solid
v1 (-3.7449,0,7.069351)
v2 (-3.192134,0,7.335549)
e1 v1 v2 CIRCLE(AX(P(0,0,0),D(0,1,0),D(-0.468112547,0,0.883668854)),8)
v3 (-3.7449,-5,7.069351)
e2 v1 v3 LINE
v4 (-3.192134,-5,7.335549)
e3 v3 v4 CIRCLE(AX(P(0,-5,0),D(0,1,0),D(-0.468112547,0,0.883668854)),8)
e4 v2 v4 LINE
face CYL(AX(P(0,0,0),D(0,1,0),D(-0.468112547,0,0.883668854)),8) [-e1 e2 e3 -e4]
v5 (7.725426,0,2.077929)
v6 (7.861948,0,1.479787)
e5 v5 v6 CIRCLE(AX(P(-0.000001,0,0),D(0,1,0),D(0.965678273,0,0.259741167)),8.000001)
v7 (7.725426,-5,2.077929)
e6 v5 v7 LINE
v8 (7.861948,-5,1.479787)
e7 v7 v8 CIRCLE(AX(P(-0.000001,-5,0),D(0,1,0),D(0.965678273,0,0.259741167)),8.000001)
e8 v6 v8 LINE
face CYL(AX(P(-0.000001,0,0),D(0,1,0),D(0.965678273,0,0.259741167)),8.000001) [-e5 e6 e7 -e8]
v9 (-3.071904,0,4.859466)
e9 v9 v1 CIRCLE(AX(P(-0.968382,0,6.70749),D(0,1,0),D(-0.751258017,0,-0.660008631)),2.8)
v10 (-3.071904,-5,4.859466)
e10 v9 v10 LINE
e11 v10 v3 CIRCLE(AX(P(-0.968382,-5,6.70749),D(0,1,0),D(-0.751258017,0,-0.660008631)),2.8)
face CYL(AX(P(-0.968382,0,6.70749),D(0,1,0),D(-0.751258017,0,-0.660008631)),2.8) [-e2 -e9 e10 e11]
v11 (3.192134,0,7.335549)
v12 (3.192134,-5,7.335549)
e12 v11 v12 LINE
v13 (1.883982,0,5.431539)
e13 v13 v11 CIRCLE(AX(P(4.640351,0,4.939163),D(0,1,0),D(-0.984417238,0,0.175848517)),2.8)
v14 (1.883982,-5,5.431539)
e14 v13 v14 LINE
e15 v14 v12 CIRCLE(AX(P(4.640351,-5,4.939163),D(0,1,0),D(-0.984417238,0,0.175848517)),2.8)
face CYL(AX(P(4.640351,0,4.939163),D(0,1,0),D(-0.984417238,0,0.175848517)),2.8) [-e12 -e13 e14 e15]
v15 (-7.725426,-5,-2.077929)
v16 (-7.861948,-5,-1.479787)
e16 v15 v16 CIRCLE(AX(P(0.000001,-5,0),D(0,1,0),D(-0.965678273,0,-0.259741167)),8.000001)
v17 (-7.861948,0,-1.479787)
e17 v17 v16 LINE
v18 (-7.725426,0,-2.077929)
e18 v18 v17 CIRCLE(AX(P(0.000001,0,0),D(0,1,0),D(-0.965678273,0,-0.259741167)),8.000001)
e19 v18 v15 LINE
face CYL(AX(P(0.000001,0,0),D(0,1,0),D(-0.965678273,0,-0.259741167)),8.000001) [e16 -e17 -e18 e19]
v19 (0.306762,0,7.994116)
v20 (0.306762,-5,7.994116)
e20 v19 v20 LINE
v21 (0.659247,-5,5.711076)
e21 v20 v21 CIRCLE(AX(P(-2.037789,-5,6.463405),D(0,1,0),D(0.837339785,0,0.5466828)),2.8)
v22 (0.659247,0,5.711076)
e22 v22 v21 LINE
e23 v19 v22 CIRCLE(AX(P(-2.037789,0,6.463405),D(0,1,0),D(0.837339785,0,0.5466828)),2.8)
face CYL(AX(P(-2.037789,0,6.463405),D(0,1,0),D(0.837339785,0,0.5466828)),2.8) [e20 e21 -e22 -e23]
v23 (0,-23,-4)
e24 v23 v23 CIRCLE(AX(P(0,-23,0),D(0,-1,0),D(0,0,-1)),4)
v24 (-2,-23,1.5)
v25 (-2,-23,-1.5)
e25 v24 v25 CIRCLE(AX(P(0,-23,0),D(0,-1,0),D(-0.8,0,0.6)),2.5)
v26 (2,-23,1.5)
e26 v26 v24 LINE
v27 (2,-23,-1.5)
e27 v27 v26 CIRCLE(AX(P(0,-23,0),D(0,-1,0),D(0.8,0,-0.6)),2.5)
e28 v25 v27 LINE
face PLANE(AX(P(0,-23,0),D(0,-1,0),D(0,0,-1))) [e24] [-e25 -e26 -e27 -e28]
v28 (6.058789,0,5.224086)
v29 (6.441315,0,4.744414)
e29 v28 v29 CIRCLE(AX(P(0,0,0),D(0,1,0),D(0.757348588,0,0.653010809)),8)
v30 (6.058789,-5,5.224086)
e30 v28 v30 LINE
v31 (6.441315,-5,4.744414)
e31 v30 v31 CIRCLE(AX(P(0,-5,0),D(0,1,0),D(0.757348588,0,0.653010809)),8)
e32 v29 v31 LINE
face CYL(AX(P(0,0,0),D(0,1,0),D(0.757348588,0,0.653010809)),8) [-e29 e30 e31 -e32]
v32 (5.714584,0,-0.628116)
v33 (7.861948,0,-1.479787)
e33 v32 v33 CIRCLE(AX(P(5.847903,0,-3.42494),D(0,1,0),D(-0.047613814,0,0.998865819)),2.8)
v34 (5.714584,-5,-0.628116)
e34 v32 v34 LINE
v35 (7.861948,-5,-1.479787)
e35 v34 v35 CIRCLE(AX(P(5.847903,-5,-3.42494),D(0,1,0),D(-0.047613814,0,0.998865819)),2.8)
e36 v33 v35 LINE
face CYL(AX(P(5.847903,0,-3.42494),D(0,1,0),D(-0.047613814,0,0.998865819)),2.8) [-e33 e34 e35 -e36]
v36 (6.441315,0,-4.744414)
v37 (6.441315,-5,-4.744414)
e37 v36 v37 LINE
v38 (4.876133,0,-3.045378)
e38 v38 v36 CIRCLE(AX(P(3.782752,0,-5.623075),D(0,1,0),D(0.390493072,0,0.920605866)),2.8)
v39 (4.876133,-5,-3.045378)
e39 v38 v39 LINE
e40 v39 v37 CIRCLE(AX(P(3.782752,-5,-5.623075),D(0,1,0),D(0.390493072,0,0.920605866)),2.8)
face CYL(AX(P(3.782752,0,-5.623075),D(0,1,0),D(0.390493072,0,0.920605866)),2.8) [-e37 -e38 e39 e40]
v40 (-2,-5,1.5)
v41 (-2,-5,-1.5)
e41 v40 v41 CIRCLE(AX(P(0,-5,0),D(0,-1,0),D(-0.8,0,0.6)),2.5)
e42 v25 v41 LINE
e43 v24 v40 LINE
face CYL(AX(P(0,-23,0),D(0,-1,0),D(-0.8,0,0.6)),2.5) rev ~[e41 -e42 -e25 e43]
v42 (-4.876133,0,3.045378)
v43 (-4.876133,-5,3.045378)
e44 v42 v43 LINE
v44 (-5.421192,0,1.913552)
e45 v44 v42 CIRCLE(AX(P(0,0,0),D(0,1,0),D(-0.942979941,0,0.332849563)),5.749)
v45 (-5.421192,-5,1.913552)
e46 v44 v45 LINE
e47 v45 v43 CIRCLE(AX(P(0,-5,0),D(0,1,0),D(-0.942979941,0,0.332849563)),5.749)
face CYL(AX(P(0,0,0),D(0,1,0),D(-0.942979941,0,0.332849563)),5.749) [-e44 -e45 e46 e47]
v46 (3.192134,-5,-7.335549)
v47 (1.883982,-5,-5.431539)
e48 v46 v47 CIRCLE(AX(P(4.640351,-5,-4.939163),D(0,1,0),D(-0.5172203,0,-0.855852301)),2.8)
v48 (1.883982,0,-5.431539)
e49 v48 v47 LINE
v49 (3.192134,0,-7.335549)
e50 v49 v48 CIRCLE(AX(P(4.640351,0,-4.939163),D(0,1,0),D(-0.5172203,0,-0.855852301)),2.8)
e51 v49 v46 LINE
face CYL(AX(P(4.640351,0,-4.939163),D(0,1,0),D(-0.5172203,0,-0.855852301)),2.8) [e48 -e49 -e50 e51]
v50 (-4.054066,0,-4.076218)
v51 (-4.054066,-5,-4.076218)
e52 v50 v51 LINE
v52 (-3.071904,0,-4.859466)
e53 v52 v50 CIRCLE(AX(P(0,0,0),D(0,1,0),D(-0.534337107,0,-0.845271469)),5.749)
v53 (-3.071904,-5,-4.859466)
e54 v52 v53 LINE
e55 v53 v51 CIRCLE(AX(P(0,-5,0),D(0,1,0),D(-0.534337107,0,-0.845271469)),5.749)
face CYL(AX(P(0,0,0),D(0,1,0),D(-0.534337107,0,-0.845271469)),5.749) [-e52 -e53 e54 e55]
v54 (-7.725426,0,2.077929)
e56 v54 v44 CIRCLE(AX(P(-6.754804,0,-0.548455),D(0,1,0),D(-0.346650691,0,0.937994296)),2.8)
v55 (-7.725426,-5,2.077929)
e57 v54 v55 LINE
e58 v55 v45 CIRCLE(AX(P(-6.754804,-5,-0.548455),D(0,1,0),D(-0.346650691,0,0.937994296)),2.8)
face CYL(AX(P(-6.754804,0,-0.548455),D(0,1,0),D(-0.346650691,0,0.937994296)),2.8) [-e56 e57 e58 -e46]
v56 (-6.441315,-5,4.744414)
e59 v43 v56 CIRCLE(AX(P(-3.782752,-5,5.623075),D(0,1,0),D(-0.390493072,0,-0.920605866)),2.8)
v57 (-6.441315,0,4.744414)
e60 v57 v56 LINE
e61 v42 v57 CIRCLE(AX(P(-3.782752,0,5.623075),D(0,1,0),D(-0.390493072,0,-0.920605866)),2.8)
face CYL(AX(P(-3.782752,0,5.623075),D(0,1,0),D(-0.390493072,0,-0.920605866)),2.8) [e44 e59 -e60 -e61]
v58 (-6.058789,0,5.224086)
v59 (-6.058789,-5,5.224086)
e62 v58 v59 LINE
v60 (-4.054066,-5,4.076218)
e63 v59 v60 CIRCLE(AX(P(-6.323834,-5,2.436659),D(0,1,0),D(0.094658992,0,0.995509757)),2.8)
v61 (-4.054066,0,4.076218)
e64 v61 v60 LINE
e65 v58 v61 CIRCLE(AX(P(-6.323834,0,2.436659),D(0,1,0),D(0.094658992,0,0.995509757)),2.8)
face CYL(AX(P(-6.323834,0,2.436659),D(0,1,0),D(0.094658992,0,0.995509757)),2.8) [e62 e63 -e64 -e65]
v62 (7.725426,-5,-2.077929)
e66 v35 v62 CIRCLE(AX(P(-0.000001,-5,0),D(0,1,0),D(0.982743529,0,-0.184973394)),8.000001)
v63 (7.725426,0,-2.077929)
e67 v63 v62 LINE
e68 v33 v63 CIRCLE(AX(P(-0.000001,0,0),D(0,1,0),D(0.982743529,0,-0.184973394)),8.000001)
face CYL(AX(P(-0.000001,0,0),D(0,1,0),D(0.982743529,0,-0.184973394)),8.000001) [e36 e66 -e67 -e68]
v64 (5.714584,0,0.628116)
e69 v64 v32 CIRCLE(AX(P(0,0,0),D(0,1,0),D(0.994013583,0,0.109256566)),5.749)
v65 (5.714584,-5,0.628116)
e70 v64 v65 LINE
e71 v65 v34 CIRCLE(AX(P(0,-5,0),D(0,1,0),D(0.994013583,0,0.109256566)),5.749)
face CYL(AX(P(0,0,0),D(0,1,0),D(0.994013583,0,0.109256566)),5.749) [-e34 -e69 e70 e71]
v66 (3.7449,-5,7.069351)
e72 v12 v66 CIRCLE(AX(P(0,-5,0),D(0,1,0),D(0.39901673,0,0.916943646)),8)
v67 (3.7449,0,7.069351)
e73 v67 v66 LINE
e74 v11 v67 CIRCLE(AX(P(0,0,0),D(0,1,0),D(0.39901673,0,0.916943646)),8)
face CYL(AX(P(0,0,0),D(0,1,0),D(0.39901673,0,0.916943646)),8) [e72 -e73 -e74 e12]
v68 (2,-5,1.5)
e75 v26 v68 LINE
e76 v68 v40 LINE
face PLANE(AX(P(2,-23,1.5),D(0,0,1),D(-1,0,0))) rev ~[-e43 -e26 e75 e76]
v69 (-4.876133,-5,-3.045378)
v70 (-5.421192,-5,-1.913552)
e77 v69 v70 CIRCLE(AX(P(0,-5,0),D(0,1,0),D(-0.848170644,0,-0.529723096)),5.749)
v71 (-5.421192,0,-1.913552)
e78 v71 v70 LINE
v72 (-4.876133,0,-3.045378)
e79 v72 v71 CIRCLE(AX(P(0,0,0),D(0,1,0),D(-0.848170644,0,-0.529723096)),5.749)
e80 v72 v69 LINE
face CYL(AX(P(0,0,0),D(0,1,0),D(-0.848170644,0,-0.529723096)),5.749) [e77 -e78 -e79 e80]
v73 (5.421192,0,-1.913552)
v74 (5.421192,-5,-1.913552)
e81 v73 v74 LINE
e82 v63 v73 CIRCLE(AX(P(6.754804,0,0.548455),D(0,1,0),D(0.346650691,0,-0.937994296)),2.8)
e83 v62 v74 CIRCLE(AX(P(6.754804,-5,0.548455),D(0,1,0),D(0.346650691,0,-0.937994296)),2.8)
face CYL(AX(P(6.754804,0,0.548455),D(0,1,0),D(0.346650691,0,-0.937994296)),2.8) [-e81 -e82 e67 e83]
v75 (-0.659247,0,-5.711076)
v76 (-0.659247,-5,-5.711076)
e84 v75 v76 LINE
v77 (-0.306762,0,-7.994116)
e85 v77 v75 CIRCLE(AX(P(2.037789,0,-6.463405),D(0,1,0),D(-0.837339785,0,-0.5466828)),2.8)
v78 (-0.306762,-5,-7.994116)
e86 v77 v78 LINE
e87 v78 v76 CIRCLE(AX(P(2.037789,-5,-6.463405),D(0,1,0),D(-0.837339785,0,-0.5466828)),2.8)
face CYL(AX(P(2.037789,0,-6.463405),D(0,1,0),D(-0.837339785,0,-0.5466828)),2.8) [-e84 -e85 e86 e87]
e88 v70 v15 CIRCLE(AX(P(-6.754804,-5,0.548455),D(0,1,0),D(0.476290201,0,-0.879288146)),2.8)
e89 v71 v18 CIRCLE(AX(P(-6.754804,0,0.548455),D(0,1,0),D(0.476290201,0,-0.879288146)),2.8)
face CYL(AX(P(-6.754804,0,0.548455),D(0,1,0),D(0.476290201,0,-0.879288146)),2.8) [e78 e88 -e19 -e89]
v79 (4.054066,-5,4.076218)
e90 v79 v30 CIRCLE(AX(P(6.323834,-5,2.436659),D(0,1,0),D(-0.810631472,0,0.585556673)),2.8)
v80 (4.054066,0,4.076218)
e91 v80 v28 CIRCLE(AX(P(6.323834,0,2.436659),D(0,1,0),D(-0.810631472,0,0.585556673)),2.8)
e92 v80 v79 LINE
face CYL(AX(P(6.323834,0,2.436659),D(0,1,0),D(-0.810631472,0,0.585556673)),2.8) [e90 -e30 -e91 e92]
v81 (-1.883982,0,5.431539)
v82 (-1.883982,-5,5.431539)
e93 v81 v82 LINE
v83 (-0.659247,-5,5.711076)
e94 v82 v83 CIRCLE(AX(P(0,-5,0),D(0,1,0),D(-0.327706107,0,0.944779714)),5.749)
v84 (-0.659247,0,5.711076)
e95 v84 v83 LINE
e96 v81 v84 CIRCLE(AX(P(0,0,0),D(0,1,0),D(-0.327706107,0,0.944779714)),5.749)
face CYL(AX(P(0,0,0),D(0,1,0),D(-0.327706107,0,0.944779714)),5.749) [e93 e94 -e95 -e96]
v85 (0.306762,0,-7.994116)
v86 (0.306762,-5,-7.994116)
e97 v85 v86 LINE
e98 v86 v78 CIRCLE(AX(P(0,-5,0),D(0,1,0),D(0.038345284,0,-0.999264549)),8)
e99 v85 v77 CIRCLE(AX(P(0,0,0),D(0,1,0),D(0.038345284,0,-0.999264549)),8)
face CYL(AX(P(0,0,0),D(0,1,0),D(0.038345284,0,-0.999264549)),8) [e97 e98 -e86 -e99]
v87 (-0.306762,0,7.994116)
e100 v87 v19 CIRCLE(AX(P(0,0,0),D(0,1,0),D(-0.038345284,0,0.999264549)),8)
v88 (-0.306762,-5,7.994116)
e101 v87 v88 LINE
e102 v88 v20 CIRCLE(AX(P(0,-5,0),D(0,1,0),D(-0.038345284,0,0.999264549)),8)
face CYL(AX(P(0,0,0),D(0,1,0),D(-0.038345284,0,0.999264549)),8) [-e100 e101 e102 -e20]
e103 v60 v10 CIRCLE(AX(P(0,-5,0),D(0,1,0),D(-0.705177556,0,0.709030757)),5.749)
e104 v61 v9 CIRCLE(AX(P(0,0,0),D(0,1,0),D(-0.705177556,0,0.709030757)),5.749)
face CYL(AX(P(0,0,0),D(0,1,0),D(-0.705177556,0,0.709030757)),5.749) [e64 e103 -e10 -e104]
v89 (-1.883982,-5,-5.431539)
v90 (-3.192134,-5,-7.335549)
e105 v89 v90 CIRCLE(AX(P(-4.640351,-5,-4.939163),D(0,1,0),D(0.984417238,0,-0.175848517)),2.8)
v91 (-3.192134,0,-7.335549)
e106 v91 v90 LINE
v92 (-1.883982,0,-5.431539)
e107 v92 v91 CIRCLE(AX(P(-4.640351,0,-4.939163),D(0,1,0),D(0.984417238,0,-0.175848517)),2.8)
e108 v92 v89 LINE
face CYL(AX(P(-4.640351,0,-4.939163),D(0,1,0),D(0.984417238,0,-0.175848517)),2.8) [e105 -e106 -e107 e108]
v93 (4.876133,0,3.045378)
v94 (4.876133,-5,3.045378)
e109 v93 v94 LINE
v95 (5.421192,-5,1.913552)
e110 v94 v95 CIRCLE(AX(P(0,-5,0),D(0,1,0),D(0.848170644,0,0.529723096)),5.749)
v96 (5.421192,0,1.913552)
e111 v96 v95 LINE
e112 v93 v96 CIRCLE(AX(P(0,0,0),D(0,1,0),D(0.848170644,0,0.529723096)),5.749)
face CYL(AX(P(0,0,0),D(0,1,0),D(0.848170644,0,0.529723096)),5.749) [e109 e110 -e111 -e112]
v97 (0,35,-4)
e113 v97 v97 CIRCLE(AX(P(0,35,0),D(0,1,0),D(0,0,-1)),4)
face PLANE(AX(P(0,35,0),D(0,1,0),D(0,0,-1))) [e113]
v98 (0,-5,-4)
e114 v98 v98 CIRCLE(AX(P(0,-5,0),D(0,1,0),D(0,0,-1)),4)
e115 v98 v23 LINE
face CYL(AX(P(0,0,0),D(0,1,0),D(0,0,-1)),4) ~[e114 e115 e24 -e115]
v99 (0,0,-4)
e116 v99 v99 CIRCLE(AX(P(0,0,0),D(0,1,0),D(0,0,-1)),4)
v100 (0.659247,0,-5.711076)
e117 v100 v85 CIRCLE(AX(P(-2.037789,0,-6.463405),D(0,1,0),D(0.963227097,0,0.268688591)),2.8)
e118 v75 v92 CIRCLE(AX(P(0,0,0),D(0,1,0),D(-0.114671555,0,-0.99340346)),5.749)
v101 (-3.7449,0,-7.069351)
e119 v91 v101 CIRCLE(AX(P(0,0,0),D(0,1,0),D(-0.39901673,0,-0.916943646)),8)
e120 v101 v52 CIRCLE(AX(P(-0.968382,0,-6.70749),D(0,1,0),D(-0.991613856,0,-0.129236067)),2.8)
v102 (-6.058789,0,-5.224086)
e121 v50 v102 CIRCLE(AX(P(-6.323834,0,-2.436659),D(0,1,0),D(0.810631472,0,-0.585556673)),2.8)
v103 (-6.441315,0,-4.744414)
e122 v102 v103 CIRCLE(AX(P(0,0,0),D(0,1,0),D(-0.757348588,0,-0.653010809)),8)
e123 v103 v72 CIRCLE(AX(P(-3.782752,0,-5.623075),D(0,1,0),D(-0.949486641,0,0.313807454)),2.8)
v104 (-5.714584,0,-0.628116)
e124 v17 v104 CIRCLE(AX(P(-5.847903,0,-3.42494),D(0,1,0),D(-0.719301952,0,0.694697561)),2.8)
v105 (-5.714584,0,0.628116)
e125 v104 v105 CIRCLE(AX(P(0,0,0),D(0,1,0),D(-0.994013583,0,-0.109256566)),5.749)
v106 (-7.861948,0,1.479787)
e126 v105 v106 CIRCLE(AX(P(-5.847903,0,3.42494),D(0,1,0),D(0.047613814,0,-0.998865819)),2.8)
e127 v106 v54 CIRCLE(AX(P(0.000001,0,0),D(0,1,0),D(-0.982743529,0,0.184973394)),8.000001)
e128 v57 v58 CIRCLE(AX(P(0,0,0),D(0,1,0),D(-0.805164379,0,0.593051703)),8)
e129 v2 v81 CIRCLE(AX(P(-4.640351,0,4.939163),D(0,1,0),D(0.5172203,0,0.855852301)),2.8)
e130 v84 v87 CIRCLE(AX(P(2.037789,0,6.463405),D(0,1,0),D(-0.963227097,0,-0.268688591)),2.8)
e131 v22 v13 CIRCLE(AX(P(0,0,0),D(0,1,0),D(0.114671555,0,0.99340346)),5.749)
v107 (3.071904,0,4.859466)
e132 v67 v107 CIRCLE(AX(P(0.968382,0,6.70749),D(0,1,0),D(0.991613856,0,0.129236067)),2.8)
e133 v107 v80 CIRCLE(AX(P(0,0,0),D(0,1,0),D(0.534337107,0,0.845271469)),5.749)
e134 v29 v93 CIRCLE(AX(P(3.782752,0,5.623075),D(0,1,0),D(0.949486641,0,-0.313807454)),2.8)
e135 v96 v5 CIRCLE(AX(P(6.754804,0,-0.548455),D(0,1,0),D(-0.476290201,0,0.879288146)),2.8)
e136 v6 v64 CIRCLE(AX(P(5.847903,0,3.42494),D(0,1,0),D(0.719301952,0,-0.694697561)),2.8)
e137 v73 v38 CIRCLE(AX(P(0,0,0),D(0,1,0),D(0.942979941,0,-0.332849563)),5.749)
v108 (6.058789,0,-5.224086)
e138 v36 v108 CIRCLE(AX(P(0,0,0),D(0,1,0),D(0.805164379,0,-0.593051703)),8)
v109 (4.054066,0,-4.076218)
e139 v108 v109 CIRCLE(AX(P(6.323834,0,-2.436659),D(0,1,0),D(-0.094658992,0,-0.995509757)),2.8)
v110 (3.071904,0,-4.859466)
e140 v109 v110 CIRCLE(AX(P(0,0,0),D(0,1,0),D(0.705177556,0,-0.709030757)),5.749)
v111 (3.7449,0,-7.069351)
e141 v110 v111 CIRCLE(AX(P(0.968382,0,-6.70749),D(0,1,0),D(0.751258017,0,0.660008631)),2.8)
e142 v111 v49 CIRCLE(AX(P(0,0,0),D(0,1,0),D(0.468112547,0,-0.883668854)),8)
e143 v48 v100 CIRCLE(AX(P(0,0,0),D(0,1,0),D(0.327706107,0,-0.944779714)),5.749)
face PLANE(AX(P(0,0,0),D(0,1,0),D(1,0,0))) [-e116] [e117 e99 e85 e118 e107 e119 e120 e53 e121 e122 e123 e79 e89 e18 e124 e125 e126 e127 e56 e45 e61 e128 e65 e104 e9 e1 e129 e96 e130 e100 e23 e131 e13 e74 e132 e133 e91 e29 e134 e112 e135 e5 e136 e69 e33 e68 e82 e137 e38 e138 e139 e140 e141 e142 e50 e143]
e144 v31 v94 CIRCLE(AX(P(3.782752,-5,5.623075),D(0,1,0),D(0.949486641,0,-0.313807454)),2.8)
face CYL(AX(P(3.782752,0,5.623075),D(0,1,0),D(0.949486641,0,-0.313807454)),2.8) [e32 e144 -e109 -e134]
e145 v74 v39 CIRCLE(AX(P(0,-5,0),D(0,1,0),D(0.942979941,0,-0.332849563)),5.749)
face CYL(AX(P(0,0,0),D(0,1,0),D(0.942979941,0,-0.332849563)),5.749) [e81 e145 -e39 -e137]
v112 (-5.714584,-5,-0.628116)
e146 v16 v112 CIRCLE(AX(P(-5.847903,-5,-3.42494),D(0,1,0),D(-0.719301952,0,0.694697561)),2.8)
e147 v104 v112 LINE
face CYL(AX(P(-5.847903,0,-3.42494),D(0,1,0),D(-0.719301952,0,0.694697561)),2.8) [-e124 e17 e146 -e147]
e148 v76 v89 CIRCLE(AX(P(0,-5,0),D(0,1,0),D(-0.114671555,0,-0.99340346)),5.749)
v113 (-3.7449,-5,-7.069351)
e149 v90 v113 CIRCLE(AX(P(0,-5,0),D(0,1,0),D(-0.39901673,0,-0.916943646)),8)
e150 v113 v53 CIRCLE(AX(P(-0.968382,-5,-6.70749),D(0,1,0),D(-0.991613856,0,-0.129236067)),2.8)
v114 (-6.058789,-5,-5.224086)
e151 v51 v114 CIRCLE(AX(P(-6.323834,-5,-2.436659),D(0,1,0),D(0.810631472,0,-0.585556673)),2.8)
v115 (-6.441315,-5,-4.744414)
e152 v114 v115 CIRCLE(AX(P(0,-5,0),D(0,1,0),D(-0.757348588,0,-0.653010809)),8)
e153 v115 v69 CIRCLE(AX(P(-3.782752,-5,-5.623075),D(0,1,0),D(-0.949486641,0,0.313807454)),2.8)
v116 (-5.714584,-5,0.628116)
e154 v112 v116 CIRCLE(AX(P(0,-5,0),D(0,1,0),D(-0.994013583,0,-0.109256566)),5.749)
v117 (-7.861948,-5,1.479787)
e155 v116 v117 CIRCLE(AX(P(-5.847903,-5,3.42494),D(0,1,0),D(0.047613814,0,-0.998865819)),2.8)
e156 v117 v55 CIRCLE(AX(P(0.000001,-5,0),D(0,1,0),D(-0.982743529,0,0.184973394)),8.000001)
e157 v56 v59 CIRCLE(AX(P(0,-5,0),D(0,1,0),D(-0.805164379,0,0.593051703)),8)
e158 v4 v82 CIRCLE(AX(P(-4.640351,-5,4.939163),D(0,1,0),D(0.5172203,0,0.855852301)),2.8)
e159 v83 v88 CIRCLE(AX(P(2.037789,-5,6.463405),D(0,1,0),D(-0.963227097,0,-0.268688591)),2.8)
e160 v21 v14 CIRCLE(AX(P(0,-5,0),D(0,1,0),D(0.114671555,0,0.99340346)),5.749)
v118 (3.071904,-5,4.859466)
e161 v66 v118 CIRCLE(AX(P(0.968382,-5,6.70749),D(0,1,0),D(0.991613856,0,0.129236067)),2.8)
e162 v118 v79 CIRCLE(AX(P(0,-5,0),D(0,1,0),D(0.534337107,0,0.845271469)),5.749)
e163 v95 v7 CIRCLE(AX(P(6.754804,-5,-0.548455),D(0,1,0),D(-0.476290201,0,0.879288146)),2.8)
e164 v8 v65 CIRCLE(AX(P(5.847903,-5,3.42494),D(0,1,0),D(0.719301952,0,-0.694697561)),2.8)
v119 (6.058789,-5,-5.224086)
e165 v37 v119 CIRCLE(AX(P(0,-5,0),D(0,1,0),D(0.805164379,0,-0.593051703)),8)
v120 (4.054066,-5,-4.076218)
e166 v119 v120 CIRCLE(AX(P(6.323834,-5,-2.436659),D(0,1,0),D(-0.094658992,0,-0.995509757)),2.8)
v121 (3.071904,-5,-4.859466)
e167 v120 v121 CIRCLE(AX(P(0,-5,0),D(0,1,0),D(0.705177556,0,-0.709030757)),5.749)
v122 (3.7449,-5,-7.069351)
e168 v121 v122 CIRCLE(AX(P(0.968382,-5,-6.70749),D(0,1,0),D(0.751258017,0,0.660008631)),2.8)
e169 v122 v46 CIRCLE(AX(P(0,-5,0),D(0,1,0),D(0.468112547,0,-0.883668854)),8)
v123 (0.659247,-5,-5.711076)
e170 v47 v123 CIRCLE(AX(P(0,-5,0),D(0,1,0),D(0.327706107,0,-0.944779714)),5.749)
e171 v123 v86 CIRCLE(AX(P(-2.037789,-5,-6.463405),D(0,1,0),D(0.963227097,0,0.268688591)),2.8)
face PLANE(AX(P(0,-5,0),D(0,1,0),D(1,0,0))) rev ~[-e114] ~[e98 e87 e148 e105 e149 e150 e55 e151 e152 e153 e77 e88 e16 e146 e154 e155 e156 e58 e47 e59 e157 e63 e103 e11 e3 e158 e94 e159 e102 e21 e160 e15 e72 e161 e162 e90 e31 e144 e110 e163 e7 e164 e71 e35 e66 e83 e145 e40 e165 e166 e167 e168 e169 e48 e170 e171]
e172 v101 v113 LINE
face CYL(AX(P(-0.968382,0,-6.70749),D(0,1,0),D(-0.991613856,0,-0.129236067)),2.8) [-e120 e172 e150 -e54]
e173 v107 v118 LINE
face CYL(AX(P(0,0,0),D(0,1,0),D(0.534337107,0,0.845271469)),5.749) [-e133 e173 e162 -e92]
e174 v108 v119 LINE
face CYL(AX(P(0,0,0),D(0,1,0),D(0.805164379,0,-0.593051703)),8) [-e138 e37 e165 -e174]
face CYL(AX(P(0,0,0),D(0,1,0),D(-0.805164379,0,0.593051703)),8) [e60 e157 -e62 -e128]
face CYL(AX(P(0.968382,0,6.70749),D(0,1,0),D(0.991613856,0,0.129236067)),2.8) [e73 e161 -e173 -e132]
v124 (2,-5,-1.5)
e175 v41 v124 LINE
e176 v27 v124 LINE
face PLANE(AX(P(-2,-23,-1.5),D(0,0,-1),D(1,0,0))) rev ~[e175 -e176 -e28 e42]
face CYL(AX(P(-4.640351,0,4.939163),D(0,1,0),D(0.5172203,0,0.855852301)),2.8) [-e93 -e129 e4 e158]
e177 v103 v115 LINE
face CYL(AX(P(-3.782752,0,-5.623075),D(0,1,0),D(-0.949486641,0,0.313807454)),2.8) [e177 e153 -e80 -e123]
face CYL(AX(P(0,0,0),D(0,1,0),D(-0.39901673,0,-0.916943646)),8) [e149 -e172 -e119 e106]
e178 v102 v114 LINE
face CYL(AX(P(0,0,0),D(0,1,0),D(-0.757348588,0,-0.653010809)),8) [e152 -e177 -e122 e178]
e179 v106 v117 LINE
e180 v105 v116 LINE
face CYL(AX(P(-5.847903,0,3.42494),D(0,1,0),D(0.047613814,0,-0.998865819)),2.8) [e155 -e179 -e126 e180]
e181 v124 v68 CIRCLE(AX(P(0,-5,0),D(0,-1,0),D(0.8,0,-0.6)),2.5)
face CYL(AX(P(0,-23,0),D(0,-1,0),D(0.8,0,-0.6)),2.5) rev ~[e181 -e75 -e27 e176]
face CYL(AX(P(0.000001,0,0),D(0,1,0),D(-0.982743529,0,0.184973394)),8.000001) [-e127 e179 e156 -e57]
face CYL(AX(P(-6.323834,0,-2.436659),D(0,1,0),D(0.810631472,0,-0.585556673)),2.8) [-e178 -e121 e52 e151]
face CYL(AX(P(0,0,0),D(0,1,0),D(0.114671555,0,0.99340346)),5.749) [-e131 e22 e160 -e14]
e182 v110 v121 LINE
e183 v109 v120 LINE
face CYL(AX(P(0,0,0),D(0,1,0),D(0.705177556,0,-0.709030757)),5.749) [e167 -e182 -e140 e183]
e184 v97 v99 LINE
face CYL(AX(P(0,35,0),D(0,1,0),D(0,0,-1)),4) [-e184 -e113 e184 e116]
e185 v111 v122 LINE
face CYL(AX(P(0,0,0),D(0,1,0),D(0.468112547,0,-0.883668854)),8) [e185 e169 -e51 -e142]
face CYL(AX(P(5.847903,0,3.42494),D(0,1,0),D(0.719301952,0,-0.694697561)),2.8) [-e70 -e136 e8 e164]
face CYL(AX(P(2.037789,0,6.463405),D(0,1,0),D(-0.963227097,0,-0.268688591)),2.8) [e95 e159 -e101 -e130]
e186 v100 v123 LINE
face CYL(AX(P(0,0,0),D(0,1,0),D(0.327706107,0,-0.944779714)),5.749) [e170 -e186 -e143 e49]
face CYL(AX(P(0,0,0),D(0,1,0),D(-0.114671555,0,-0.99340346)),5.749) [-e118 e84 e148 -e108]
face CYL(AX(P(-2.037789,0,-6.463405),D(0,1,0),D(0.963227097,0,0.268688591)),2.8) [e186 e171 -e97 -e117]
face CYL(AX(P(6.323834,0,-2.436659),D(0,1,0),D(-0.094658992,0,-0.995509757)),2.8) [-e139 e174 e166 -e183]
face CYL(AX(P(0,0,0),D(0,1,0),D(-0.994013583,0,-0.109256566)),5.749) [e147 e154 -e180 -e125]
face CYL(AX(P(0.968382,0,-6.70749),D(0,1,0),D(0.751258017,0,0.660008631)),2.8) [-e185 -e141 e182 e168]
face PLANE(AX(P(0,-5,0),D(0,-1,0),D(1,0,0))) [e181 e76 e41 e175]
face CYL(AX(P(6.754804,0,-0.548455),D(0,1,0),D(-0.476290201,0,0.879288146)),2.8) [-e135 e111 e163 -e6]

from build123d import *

# Parameters (mm, degrees)
SKETCH1_R                = 0.4
BOSS_EXTRUDE1_DEPTH      = 5
BOSS_EXTRUDE2_DEPTH      = 18
BOSS_EXTRUDE2_DEPTH_BACK = 5
SKETCH2_R                = 4
BOSS_EXTRUDE3_START      = 35
SKETCH3_R                = 4
BOSS_EXTRUDE3_DEPTH      = 35
CUT_EXTRUDE1_DEPTH       = 18


with BuildPart() as part:
    # Sketch1 → Boss-Extrude1 (new body)
    with BuildSketch(Plane(origin=(0, 0, 0), x_dir=(1, 0, 0), z_dir=(0, 1, 0))):
        with BuildLine():
            ThreePointArc((3.744900382, -7.069350828), (3.64692573, -5.891768521), (3.071904032, -4.859465672))
            ThreePointArc((3.071904032, -4.859465672), (3.584442871, -4.494749193), (4.054065768, -4.076217824))
            ThreePointArc((4.054065768, -4.076217824), (4.932532263, -4.866531521), (6.058788713, -5.224086459))
            ThreePointArc((6.058788713, -5.224086459), (6.25465186, -4.987918415), (6.441315028, -4.744413632))
            ThreePointArc((6.441315028, -4.744413632), (5.842109102, -3.725958242), (4.876133034, -3.045378078))
            ThreePointArc((4.876133034, -3.045378078), (5.179670022, -2.494397616), (5.421191676, -1.913552144))
            ThreePointArc((5.421191676, -1.913552144), (6.555566902, -2.244447854), (7.725426174, -2.077929362))
            ThreePointArc((7.725426174, -2.077929362), (7.799423297, -1.780167472), (7.861948235, -1.47978713))
            ThreePointArc((7.861948235, -1.47978713), (6.880191117, -0.822176238), (5.714584087, -0.628116006))
            ThreePointArc((5.714584087, -0.628116006), (5.749, 0), (5.714584087, 0.628116006))
            ThreePointArc((5.714584087, 0.628116006), (6.880191117, 0.822176238), (7.861948235, 1.47978713))
            ThreePointArc((7.861948235, 1.47978713), (7.799423297, 1.780167472), (7.725426174, 2.077929362))
            ThreePointArc((7.725426174, 2.077929362), (6.555566902, 2.244447854), (5.421191676, 1.913552144))
            ThreePointArc((5.421191676, 1.913552144), (5.179670022, 2.494397616), (4.876133034, 3.045378078))
            ThreePointArc((4.876133034, 3.045378078), (5.842109102, 3.725958242), (6.441315028, 4.744413632))
            ThreePointArc((6.441315028, 4.744413632), (6.25465186, 4.987918415), (6.058788713, 5.224086459))
            ThreePointArc((6.058788713, 5.224086459), (4.932532263, 4.866531521), (4.054065768, 4.076217824))
            ThreePointArc((4.054065768, 4.076217824), (3.584442871, 4.494749193), (3.071904032, 4.859465672))
            ThreePointArc((3.071904032, 4.859465672), (3.64692573, 5.891768521), (3.744900382, 7.069350828))
            ThreePointArc((3.744900382, 7.069350828), (3.471069913, 7.207750943), (3.192133841, 7.335549164))
            ThreePointArc((3.192133841, 7.335549164), (2.332549116, 6.524738937), (1.883982415, 5.431538572))
            ThreePointArc((1.883982415, 5.431538572), (1.279272849, 5.604860567), (0.659246762, 5.711076493))
            ThreePointArc((0.659246762, 5.711076493), (0.72942399, 6.890641786), (0.306762287, 7.994116393))
            ThreePointArc((0.306762287, 7.994116393), (0, 8), (-0.306762287, 7.994116393))
            ThreePointArc((-0.306762287, 7.994116393), (-0.72942399, 6.890641786), (-0.659246762, 5.711076493))
            ThreePointArc((-0.659246762, 5.711076493), (-1.279272849, 5.604860567), (-1.883982415, 5.431538572))
            ThreePointArc((-1.883982415, 5.431538572), (-2.332549116, 6.524738937), (-3.192133841, 7.335549164))
            ThreePointArc((-3.192133841, 7.335549164), (-3.471069913, 7.207750943), (-3.744900382, 7.069350828))
            ThreePointArc((-3.744900382, 7.069350828), (-3.64692573, 5.891768521), (-3.071904032, 4.859465672))
            ThreePointArc((-3.071904032, 4.859465672), (-3.584442871, 4.494749193), (-4.054065768, 4.076217824))
            ThreePointArc((-4.054065768, 4.076217824), (-4.932532263, 4.866531521), (-6.058788713, 5.224086459))
            ThreePointArc((-6.058788713, 5.224086459), (-6.25465186, 4.987918415), (-6.441315028, 4.744413632))
            ThreePointArc((-6.441315028, 4.744413632), (-5.842109102, 3.725958242), (-4.876133034, 3.045378078))
            ThreePointArc((-4.876133034, 3.045378078), (-5.179670022, 2.494397616), (-5.421191676, 1.913552144))
            ThreePointArc((-5.421191676, 1.913552144), (-6.555566902, 2.244447854), (-7.725426174, 2.077929362))
            ThreePointArc((-7.725426174, 2.077929362), (-7.799423297, 1.780167472), (-7.861948235, 1.47978713))
            ThreePointArc((-7.861948235, 1.47978713), (-6.880191117, 0.822176238), (-5.714584087, 0.628116006))
            ThreePointArc((-5.714584087, 0.628116006), (-5.749, 0), (-5.714584087, -0.628116006))
            ThreePointArc((-5.714584087, -0.628116006), (-6.880191117, -0.822176238), (-7.861948235, -1.47978713))
            ThreePointArc((-7.861948235, -1.47978713), (-7.799423297, -1.780167472), (-7.725426174, -2.077929362))
            ThreePointArc((-7.725426174, -2.077929362), (-6.555566902, -2.244447854), (-5.421191676, -1.913552144))
            ThreePointArc((-5.421191676, -1.913552144), (-5.179670022, -2.494397616), (-4.876133034, -3.045378078))
            ThreePointArc((-4.876133034, -3.045378078), (-5.842109102, -3.725958242), (-6.441315028, -4.744413632))
            ThreePointArc((-6.441315028, -4.744413632), (-6.25465186, -4.987918415), (-6.058788713, -5.224086459))
            ThreePointArc((-6.058788713, -5.224086459), (-4.932532263, -4.866531521), (-4.054065768, -4.076217824))
            ThreePointArc((-4.054065768, -4.076217824), (-3.584442871, -4.494749193), (-3.071904032, -4.859465672))
            ThreePointArc((-3.071904032, -4.859465672), (-3.64692573, -5.891768521), (-3.744900382, -7.069350828))
            ThreePointArc((-3.744900382, -7.069350828), (-3.471069913, -7.207750943), (-3.192133841, -7.335549164))
            ThreePointArc((-3.192133841, -7.335549164), (-2.332549116, -6.524738937), (-1.883982415, -5.431538572))
            ThreePointArc((-1.883982415, -5.431538572), (-1.279272849, -5.604860567), (-0.659246762, -5.711076493))
            ThreePointArc((-0.659246762, -5.711076493), (-0.72942399, -6.890641786), (-0.306762287, -7.994116393))
            ThreePointArc((-0.306762287, -7.994116393), (0, -8), (0.306762287, -7.994116393))
            ThreePointArc((0.306762287, -7.994116393), (0.72942399, -6.890641786), (0.659246762, -5.711076493))
            ThreePointArc((0.659246762, -5.711076493), (1.279272849, -5.604860567), (1.883982415, -5.431538572))
            ThreePointArc((1.883982415, -5.431538572), (2.332549116, -6.524738937), (3.192133841, -7.335549164))
            ThreePointArc((3.192133841, -7.335549164), (3.471069913, -7.207750943), (3.744900382, -7.069350828))
        make_face()
        with Locations(Location((0, 0, 0), (0, 0, 90))):
            Circle(SKETCH1_R, mode=Mode.SUBTRACT)
    extrude(amount=-BOSS_EXTRUDE1_DEPTH)

    # Sketch2 → Boss-Extrude2 (add, two sides: drawn at the far end of the back side and taken through both)
    with BuildSketch(Plane.XZ.offset(5).offset(-BOSS_EXTRUDE2_DEPTH_BACK)):
        with Locations(Location((0, 0, 0), (0, 0, 270))):
            Circle(SKETCH2_R)
    extrude(amount=BOSS_EXTRUDE2_DEPTH + BOSS_EXTRUDE2_DEPTH_BACK)

    # Sketch3 → Boss-Extrude3 (add)
    with BuildSketch(Plane(origin=(0, 0, 0), x_dir=(1, 0, 0), z_dir=(0, 1, 0)).offset(BOSS_EXTRUDE3_START)):
        with Locations(Location((0, 0, 0), (0, 0, 90))):
            Circle(SKETCH3_R)
    extrude(amount=-BOSS_EXTRUDE3_DEPTH)

    # Sketch4 → Cut-Extrude1 (cut)
    with BuildSketch(Plane.XZ.offset(23)):
        with BuildLine():
            Line((-2, -1.5), (2, -1.5))
            ThreePointArc((2, -1.5), (2.5, 0), (2, 1.5))
            Line((2, 1.5), (-2, 1.5))
            ThreePointArc((-2, 1.5), (-2.5, 0), (-2, -1.5))
        make_face()
    extrude(amount=-CUT_EXTRUDE1_DEPTH, mode=Mode.SUBTRACT)


solid = part.part
